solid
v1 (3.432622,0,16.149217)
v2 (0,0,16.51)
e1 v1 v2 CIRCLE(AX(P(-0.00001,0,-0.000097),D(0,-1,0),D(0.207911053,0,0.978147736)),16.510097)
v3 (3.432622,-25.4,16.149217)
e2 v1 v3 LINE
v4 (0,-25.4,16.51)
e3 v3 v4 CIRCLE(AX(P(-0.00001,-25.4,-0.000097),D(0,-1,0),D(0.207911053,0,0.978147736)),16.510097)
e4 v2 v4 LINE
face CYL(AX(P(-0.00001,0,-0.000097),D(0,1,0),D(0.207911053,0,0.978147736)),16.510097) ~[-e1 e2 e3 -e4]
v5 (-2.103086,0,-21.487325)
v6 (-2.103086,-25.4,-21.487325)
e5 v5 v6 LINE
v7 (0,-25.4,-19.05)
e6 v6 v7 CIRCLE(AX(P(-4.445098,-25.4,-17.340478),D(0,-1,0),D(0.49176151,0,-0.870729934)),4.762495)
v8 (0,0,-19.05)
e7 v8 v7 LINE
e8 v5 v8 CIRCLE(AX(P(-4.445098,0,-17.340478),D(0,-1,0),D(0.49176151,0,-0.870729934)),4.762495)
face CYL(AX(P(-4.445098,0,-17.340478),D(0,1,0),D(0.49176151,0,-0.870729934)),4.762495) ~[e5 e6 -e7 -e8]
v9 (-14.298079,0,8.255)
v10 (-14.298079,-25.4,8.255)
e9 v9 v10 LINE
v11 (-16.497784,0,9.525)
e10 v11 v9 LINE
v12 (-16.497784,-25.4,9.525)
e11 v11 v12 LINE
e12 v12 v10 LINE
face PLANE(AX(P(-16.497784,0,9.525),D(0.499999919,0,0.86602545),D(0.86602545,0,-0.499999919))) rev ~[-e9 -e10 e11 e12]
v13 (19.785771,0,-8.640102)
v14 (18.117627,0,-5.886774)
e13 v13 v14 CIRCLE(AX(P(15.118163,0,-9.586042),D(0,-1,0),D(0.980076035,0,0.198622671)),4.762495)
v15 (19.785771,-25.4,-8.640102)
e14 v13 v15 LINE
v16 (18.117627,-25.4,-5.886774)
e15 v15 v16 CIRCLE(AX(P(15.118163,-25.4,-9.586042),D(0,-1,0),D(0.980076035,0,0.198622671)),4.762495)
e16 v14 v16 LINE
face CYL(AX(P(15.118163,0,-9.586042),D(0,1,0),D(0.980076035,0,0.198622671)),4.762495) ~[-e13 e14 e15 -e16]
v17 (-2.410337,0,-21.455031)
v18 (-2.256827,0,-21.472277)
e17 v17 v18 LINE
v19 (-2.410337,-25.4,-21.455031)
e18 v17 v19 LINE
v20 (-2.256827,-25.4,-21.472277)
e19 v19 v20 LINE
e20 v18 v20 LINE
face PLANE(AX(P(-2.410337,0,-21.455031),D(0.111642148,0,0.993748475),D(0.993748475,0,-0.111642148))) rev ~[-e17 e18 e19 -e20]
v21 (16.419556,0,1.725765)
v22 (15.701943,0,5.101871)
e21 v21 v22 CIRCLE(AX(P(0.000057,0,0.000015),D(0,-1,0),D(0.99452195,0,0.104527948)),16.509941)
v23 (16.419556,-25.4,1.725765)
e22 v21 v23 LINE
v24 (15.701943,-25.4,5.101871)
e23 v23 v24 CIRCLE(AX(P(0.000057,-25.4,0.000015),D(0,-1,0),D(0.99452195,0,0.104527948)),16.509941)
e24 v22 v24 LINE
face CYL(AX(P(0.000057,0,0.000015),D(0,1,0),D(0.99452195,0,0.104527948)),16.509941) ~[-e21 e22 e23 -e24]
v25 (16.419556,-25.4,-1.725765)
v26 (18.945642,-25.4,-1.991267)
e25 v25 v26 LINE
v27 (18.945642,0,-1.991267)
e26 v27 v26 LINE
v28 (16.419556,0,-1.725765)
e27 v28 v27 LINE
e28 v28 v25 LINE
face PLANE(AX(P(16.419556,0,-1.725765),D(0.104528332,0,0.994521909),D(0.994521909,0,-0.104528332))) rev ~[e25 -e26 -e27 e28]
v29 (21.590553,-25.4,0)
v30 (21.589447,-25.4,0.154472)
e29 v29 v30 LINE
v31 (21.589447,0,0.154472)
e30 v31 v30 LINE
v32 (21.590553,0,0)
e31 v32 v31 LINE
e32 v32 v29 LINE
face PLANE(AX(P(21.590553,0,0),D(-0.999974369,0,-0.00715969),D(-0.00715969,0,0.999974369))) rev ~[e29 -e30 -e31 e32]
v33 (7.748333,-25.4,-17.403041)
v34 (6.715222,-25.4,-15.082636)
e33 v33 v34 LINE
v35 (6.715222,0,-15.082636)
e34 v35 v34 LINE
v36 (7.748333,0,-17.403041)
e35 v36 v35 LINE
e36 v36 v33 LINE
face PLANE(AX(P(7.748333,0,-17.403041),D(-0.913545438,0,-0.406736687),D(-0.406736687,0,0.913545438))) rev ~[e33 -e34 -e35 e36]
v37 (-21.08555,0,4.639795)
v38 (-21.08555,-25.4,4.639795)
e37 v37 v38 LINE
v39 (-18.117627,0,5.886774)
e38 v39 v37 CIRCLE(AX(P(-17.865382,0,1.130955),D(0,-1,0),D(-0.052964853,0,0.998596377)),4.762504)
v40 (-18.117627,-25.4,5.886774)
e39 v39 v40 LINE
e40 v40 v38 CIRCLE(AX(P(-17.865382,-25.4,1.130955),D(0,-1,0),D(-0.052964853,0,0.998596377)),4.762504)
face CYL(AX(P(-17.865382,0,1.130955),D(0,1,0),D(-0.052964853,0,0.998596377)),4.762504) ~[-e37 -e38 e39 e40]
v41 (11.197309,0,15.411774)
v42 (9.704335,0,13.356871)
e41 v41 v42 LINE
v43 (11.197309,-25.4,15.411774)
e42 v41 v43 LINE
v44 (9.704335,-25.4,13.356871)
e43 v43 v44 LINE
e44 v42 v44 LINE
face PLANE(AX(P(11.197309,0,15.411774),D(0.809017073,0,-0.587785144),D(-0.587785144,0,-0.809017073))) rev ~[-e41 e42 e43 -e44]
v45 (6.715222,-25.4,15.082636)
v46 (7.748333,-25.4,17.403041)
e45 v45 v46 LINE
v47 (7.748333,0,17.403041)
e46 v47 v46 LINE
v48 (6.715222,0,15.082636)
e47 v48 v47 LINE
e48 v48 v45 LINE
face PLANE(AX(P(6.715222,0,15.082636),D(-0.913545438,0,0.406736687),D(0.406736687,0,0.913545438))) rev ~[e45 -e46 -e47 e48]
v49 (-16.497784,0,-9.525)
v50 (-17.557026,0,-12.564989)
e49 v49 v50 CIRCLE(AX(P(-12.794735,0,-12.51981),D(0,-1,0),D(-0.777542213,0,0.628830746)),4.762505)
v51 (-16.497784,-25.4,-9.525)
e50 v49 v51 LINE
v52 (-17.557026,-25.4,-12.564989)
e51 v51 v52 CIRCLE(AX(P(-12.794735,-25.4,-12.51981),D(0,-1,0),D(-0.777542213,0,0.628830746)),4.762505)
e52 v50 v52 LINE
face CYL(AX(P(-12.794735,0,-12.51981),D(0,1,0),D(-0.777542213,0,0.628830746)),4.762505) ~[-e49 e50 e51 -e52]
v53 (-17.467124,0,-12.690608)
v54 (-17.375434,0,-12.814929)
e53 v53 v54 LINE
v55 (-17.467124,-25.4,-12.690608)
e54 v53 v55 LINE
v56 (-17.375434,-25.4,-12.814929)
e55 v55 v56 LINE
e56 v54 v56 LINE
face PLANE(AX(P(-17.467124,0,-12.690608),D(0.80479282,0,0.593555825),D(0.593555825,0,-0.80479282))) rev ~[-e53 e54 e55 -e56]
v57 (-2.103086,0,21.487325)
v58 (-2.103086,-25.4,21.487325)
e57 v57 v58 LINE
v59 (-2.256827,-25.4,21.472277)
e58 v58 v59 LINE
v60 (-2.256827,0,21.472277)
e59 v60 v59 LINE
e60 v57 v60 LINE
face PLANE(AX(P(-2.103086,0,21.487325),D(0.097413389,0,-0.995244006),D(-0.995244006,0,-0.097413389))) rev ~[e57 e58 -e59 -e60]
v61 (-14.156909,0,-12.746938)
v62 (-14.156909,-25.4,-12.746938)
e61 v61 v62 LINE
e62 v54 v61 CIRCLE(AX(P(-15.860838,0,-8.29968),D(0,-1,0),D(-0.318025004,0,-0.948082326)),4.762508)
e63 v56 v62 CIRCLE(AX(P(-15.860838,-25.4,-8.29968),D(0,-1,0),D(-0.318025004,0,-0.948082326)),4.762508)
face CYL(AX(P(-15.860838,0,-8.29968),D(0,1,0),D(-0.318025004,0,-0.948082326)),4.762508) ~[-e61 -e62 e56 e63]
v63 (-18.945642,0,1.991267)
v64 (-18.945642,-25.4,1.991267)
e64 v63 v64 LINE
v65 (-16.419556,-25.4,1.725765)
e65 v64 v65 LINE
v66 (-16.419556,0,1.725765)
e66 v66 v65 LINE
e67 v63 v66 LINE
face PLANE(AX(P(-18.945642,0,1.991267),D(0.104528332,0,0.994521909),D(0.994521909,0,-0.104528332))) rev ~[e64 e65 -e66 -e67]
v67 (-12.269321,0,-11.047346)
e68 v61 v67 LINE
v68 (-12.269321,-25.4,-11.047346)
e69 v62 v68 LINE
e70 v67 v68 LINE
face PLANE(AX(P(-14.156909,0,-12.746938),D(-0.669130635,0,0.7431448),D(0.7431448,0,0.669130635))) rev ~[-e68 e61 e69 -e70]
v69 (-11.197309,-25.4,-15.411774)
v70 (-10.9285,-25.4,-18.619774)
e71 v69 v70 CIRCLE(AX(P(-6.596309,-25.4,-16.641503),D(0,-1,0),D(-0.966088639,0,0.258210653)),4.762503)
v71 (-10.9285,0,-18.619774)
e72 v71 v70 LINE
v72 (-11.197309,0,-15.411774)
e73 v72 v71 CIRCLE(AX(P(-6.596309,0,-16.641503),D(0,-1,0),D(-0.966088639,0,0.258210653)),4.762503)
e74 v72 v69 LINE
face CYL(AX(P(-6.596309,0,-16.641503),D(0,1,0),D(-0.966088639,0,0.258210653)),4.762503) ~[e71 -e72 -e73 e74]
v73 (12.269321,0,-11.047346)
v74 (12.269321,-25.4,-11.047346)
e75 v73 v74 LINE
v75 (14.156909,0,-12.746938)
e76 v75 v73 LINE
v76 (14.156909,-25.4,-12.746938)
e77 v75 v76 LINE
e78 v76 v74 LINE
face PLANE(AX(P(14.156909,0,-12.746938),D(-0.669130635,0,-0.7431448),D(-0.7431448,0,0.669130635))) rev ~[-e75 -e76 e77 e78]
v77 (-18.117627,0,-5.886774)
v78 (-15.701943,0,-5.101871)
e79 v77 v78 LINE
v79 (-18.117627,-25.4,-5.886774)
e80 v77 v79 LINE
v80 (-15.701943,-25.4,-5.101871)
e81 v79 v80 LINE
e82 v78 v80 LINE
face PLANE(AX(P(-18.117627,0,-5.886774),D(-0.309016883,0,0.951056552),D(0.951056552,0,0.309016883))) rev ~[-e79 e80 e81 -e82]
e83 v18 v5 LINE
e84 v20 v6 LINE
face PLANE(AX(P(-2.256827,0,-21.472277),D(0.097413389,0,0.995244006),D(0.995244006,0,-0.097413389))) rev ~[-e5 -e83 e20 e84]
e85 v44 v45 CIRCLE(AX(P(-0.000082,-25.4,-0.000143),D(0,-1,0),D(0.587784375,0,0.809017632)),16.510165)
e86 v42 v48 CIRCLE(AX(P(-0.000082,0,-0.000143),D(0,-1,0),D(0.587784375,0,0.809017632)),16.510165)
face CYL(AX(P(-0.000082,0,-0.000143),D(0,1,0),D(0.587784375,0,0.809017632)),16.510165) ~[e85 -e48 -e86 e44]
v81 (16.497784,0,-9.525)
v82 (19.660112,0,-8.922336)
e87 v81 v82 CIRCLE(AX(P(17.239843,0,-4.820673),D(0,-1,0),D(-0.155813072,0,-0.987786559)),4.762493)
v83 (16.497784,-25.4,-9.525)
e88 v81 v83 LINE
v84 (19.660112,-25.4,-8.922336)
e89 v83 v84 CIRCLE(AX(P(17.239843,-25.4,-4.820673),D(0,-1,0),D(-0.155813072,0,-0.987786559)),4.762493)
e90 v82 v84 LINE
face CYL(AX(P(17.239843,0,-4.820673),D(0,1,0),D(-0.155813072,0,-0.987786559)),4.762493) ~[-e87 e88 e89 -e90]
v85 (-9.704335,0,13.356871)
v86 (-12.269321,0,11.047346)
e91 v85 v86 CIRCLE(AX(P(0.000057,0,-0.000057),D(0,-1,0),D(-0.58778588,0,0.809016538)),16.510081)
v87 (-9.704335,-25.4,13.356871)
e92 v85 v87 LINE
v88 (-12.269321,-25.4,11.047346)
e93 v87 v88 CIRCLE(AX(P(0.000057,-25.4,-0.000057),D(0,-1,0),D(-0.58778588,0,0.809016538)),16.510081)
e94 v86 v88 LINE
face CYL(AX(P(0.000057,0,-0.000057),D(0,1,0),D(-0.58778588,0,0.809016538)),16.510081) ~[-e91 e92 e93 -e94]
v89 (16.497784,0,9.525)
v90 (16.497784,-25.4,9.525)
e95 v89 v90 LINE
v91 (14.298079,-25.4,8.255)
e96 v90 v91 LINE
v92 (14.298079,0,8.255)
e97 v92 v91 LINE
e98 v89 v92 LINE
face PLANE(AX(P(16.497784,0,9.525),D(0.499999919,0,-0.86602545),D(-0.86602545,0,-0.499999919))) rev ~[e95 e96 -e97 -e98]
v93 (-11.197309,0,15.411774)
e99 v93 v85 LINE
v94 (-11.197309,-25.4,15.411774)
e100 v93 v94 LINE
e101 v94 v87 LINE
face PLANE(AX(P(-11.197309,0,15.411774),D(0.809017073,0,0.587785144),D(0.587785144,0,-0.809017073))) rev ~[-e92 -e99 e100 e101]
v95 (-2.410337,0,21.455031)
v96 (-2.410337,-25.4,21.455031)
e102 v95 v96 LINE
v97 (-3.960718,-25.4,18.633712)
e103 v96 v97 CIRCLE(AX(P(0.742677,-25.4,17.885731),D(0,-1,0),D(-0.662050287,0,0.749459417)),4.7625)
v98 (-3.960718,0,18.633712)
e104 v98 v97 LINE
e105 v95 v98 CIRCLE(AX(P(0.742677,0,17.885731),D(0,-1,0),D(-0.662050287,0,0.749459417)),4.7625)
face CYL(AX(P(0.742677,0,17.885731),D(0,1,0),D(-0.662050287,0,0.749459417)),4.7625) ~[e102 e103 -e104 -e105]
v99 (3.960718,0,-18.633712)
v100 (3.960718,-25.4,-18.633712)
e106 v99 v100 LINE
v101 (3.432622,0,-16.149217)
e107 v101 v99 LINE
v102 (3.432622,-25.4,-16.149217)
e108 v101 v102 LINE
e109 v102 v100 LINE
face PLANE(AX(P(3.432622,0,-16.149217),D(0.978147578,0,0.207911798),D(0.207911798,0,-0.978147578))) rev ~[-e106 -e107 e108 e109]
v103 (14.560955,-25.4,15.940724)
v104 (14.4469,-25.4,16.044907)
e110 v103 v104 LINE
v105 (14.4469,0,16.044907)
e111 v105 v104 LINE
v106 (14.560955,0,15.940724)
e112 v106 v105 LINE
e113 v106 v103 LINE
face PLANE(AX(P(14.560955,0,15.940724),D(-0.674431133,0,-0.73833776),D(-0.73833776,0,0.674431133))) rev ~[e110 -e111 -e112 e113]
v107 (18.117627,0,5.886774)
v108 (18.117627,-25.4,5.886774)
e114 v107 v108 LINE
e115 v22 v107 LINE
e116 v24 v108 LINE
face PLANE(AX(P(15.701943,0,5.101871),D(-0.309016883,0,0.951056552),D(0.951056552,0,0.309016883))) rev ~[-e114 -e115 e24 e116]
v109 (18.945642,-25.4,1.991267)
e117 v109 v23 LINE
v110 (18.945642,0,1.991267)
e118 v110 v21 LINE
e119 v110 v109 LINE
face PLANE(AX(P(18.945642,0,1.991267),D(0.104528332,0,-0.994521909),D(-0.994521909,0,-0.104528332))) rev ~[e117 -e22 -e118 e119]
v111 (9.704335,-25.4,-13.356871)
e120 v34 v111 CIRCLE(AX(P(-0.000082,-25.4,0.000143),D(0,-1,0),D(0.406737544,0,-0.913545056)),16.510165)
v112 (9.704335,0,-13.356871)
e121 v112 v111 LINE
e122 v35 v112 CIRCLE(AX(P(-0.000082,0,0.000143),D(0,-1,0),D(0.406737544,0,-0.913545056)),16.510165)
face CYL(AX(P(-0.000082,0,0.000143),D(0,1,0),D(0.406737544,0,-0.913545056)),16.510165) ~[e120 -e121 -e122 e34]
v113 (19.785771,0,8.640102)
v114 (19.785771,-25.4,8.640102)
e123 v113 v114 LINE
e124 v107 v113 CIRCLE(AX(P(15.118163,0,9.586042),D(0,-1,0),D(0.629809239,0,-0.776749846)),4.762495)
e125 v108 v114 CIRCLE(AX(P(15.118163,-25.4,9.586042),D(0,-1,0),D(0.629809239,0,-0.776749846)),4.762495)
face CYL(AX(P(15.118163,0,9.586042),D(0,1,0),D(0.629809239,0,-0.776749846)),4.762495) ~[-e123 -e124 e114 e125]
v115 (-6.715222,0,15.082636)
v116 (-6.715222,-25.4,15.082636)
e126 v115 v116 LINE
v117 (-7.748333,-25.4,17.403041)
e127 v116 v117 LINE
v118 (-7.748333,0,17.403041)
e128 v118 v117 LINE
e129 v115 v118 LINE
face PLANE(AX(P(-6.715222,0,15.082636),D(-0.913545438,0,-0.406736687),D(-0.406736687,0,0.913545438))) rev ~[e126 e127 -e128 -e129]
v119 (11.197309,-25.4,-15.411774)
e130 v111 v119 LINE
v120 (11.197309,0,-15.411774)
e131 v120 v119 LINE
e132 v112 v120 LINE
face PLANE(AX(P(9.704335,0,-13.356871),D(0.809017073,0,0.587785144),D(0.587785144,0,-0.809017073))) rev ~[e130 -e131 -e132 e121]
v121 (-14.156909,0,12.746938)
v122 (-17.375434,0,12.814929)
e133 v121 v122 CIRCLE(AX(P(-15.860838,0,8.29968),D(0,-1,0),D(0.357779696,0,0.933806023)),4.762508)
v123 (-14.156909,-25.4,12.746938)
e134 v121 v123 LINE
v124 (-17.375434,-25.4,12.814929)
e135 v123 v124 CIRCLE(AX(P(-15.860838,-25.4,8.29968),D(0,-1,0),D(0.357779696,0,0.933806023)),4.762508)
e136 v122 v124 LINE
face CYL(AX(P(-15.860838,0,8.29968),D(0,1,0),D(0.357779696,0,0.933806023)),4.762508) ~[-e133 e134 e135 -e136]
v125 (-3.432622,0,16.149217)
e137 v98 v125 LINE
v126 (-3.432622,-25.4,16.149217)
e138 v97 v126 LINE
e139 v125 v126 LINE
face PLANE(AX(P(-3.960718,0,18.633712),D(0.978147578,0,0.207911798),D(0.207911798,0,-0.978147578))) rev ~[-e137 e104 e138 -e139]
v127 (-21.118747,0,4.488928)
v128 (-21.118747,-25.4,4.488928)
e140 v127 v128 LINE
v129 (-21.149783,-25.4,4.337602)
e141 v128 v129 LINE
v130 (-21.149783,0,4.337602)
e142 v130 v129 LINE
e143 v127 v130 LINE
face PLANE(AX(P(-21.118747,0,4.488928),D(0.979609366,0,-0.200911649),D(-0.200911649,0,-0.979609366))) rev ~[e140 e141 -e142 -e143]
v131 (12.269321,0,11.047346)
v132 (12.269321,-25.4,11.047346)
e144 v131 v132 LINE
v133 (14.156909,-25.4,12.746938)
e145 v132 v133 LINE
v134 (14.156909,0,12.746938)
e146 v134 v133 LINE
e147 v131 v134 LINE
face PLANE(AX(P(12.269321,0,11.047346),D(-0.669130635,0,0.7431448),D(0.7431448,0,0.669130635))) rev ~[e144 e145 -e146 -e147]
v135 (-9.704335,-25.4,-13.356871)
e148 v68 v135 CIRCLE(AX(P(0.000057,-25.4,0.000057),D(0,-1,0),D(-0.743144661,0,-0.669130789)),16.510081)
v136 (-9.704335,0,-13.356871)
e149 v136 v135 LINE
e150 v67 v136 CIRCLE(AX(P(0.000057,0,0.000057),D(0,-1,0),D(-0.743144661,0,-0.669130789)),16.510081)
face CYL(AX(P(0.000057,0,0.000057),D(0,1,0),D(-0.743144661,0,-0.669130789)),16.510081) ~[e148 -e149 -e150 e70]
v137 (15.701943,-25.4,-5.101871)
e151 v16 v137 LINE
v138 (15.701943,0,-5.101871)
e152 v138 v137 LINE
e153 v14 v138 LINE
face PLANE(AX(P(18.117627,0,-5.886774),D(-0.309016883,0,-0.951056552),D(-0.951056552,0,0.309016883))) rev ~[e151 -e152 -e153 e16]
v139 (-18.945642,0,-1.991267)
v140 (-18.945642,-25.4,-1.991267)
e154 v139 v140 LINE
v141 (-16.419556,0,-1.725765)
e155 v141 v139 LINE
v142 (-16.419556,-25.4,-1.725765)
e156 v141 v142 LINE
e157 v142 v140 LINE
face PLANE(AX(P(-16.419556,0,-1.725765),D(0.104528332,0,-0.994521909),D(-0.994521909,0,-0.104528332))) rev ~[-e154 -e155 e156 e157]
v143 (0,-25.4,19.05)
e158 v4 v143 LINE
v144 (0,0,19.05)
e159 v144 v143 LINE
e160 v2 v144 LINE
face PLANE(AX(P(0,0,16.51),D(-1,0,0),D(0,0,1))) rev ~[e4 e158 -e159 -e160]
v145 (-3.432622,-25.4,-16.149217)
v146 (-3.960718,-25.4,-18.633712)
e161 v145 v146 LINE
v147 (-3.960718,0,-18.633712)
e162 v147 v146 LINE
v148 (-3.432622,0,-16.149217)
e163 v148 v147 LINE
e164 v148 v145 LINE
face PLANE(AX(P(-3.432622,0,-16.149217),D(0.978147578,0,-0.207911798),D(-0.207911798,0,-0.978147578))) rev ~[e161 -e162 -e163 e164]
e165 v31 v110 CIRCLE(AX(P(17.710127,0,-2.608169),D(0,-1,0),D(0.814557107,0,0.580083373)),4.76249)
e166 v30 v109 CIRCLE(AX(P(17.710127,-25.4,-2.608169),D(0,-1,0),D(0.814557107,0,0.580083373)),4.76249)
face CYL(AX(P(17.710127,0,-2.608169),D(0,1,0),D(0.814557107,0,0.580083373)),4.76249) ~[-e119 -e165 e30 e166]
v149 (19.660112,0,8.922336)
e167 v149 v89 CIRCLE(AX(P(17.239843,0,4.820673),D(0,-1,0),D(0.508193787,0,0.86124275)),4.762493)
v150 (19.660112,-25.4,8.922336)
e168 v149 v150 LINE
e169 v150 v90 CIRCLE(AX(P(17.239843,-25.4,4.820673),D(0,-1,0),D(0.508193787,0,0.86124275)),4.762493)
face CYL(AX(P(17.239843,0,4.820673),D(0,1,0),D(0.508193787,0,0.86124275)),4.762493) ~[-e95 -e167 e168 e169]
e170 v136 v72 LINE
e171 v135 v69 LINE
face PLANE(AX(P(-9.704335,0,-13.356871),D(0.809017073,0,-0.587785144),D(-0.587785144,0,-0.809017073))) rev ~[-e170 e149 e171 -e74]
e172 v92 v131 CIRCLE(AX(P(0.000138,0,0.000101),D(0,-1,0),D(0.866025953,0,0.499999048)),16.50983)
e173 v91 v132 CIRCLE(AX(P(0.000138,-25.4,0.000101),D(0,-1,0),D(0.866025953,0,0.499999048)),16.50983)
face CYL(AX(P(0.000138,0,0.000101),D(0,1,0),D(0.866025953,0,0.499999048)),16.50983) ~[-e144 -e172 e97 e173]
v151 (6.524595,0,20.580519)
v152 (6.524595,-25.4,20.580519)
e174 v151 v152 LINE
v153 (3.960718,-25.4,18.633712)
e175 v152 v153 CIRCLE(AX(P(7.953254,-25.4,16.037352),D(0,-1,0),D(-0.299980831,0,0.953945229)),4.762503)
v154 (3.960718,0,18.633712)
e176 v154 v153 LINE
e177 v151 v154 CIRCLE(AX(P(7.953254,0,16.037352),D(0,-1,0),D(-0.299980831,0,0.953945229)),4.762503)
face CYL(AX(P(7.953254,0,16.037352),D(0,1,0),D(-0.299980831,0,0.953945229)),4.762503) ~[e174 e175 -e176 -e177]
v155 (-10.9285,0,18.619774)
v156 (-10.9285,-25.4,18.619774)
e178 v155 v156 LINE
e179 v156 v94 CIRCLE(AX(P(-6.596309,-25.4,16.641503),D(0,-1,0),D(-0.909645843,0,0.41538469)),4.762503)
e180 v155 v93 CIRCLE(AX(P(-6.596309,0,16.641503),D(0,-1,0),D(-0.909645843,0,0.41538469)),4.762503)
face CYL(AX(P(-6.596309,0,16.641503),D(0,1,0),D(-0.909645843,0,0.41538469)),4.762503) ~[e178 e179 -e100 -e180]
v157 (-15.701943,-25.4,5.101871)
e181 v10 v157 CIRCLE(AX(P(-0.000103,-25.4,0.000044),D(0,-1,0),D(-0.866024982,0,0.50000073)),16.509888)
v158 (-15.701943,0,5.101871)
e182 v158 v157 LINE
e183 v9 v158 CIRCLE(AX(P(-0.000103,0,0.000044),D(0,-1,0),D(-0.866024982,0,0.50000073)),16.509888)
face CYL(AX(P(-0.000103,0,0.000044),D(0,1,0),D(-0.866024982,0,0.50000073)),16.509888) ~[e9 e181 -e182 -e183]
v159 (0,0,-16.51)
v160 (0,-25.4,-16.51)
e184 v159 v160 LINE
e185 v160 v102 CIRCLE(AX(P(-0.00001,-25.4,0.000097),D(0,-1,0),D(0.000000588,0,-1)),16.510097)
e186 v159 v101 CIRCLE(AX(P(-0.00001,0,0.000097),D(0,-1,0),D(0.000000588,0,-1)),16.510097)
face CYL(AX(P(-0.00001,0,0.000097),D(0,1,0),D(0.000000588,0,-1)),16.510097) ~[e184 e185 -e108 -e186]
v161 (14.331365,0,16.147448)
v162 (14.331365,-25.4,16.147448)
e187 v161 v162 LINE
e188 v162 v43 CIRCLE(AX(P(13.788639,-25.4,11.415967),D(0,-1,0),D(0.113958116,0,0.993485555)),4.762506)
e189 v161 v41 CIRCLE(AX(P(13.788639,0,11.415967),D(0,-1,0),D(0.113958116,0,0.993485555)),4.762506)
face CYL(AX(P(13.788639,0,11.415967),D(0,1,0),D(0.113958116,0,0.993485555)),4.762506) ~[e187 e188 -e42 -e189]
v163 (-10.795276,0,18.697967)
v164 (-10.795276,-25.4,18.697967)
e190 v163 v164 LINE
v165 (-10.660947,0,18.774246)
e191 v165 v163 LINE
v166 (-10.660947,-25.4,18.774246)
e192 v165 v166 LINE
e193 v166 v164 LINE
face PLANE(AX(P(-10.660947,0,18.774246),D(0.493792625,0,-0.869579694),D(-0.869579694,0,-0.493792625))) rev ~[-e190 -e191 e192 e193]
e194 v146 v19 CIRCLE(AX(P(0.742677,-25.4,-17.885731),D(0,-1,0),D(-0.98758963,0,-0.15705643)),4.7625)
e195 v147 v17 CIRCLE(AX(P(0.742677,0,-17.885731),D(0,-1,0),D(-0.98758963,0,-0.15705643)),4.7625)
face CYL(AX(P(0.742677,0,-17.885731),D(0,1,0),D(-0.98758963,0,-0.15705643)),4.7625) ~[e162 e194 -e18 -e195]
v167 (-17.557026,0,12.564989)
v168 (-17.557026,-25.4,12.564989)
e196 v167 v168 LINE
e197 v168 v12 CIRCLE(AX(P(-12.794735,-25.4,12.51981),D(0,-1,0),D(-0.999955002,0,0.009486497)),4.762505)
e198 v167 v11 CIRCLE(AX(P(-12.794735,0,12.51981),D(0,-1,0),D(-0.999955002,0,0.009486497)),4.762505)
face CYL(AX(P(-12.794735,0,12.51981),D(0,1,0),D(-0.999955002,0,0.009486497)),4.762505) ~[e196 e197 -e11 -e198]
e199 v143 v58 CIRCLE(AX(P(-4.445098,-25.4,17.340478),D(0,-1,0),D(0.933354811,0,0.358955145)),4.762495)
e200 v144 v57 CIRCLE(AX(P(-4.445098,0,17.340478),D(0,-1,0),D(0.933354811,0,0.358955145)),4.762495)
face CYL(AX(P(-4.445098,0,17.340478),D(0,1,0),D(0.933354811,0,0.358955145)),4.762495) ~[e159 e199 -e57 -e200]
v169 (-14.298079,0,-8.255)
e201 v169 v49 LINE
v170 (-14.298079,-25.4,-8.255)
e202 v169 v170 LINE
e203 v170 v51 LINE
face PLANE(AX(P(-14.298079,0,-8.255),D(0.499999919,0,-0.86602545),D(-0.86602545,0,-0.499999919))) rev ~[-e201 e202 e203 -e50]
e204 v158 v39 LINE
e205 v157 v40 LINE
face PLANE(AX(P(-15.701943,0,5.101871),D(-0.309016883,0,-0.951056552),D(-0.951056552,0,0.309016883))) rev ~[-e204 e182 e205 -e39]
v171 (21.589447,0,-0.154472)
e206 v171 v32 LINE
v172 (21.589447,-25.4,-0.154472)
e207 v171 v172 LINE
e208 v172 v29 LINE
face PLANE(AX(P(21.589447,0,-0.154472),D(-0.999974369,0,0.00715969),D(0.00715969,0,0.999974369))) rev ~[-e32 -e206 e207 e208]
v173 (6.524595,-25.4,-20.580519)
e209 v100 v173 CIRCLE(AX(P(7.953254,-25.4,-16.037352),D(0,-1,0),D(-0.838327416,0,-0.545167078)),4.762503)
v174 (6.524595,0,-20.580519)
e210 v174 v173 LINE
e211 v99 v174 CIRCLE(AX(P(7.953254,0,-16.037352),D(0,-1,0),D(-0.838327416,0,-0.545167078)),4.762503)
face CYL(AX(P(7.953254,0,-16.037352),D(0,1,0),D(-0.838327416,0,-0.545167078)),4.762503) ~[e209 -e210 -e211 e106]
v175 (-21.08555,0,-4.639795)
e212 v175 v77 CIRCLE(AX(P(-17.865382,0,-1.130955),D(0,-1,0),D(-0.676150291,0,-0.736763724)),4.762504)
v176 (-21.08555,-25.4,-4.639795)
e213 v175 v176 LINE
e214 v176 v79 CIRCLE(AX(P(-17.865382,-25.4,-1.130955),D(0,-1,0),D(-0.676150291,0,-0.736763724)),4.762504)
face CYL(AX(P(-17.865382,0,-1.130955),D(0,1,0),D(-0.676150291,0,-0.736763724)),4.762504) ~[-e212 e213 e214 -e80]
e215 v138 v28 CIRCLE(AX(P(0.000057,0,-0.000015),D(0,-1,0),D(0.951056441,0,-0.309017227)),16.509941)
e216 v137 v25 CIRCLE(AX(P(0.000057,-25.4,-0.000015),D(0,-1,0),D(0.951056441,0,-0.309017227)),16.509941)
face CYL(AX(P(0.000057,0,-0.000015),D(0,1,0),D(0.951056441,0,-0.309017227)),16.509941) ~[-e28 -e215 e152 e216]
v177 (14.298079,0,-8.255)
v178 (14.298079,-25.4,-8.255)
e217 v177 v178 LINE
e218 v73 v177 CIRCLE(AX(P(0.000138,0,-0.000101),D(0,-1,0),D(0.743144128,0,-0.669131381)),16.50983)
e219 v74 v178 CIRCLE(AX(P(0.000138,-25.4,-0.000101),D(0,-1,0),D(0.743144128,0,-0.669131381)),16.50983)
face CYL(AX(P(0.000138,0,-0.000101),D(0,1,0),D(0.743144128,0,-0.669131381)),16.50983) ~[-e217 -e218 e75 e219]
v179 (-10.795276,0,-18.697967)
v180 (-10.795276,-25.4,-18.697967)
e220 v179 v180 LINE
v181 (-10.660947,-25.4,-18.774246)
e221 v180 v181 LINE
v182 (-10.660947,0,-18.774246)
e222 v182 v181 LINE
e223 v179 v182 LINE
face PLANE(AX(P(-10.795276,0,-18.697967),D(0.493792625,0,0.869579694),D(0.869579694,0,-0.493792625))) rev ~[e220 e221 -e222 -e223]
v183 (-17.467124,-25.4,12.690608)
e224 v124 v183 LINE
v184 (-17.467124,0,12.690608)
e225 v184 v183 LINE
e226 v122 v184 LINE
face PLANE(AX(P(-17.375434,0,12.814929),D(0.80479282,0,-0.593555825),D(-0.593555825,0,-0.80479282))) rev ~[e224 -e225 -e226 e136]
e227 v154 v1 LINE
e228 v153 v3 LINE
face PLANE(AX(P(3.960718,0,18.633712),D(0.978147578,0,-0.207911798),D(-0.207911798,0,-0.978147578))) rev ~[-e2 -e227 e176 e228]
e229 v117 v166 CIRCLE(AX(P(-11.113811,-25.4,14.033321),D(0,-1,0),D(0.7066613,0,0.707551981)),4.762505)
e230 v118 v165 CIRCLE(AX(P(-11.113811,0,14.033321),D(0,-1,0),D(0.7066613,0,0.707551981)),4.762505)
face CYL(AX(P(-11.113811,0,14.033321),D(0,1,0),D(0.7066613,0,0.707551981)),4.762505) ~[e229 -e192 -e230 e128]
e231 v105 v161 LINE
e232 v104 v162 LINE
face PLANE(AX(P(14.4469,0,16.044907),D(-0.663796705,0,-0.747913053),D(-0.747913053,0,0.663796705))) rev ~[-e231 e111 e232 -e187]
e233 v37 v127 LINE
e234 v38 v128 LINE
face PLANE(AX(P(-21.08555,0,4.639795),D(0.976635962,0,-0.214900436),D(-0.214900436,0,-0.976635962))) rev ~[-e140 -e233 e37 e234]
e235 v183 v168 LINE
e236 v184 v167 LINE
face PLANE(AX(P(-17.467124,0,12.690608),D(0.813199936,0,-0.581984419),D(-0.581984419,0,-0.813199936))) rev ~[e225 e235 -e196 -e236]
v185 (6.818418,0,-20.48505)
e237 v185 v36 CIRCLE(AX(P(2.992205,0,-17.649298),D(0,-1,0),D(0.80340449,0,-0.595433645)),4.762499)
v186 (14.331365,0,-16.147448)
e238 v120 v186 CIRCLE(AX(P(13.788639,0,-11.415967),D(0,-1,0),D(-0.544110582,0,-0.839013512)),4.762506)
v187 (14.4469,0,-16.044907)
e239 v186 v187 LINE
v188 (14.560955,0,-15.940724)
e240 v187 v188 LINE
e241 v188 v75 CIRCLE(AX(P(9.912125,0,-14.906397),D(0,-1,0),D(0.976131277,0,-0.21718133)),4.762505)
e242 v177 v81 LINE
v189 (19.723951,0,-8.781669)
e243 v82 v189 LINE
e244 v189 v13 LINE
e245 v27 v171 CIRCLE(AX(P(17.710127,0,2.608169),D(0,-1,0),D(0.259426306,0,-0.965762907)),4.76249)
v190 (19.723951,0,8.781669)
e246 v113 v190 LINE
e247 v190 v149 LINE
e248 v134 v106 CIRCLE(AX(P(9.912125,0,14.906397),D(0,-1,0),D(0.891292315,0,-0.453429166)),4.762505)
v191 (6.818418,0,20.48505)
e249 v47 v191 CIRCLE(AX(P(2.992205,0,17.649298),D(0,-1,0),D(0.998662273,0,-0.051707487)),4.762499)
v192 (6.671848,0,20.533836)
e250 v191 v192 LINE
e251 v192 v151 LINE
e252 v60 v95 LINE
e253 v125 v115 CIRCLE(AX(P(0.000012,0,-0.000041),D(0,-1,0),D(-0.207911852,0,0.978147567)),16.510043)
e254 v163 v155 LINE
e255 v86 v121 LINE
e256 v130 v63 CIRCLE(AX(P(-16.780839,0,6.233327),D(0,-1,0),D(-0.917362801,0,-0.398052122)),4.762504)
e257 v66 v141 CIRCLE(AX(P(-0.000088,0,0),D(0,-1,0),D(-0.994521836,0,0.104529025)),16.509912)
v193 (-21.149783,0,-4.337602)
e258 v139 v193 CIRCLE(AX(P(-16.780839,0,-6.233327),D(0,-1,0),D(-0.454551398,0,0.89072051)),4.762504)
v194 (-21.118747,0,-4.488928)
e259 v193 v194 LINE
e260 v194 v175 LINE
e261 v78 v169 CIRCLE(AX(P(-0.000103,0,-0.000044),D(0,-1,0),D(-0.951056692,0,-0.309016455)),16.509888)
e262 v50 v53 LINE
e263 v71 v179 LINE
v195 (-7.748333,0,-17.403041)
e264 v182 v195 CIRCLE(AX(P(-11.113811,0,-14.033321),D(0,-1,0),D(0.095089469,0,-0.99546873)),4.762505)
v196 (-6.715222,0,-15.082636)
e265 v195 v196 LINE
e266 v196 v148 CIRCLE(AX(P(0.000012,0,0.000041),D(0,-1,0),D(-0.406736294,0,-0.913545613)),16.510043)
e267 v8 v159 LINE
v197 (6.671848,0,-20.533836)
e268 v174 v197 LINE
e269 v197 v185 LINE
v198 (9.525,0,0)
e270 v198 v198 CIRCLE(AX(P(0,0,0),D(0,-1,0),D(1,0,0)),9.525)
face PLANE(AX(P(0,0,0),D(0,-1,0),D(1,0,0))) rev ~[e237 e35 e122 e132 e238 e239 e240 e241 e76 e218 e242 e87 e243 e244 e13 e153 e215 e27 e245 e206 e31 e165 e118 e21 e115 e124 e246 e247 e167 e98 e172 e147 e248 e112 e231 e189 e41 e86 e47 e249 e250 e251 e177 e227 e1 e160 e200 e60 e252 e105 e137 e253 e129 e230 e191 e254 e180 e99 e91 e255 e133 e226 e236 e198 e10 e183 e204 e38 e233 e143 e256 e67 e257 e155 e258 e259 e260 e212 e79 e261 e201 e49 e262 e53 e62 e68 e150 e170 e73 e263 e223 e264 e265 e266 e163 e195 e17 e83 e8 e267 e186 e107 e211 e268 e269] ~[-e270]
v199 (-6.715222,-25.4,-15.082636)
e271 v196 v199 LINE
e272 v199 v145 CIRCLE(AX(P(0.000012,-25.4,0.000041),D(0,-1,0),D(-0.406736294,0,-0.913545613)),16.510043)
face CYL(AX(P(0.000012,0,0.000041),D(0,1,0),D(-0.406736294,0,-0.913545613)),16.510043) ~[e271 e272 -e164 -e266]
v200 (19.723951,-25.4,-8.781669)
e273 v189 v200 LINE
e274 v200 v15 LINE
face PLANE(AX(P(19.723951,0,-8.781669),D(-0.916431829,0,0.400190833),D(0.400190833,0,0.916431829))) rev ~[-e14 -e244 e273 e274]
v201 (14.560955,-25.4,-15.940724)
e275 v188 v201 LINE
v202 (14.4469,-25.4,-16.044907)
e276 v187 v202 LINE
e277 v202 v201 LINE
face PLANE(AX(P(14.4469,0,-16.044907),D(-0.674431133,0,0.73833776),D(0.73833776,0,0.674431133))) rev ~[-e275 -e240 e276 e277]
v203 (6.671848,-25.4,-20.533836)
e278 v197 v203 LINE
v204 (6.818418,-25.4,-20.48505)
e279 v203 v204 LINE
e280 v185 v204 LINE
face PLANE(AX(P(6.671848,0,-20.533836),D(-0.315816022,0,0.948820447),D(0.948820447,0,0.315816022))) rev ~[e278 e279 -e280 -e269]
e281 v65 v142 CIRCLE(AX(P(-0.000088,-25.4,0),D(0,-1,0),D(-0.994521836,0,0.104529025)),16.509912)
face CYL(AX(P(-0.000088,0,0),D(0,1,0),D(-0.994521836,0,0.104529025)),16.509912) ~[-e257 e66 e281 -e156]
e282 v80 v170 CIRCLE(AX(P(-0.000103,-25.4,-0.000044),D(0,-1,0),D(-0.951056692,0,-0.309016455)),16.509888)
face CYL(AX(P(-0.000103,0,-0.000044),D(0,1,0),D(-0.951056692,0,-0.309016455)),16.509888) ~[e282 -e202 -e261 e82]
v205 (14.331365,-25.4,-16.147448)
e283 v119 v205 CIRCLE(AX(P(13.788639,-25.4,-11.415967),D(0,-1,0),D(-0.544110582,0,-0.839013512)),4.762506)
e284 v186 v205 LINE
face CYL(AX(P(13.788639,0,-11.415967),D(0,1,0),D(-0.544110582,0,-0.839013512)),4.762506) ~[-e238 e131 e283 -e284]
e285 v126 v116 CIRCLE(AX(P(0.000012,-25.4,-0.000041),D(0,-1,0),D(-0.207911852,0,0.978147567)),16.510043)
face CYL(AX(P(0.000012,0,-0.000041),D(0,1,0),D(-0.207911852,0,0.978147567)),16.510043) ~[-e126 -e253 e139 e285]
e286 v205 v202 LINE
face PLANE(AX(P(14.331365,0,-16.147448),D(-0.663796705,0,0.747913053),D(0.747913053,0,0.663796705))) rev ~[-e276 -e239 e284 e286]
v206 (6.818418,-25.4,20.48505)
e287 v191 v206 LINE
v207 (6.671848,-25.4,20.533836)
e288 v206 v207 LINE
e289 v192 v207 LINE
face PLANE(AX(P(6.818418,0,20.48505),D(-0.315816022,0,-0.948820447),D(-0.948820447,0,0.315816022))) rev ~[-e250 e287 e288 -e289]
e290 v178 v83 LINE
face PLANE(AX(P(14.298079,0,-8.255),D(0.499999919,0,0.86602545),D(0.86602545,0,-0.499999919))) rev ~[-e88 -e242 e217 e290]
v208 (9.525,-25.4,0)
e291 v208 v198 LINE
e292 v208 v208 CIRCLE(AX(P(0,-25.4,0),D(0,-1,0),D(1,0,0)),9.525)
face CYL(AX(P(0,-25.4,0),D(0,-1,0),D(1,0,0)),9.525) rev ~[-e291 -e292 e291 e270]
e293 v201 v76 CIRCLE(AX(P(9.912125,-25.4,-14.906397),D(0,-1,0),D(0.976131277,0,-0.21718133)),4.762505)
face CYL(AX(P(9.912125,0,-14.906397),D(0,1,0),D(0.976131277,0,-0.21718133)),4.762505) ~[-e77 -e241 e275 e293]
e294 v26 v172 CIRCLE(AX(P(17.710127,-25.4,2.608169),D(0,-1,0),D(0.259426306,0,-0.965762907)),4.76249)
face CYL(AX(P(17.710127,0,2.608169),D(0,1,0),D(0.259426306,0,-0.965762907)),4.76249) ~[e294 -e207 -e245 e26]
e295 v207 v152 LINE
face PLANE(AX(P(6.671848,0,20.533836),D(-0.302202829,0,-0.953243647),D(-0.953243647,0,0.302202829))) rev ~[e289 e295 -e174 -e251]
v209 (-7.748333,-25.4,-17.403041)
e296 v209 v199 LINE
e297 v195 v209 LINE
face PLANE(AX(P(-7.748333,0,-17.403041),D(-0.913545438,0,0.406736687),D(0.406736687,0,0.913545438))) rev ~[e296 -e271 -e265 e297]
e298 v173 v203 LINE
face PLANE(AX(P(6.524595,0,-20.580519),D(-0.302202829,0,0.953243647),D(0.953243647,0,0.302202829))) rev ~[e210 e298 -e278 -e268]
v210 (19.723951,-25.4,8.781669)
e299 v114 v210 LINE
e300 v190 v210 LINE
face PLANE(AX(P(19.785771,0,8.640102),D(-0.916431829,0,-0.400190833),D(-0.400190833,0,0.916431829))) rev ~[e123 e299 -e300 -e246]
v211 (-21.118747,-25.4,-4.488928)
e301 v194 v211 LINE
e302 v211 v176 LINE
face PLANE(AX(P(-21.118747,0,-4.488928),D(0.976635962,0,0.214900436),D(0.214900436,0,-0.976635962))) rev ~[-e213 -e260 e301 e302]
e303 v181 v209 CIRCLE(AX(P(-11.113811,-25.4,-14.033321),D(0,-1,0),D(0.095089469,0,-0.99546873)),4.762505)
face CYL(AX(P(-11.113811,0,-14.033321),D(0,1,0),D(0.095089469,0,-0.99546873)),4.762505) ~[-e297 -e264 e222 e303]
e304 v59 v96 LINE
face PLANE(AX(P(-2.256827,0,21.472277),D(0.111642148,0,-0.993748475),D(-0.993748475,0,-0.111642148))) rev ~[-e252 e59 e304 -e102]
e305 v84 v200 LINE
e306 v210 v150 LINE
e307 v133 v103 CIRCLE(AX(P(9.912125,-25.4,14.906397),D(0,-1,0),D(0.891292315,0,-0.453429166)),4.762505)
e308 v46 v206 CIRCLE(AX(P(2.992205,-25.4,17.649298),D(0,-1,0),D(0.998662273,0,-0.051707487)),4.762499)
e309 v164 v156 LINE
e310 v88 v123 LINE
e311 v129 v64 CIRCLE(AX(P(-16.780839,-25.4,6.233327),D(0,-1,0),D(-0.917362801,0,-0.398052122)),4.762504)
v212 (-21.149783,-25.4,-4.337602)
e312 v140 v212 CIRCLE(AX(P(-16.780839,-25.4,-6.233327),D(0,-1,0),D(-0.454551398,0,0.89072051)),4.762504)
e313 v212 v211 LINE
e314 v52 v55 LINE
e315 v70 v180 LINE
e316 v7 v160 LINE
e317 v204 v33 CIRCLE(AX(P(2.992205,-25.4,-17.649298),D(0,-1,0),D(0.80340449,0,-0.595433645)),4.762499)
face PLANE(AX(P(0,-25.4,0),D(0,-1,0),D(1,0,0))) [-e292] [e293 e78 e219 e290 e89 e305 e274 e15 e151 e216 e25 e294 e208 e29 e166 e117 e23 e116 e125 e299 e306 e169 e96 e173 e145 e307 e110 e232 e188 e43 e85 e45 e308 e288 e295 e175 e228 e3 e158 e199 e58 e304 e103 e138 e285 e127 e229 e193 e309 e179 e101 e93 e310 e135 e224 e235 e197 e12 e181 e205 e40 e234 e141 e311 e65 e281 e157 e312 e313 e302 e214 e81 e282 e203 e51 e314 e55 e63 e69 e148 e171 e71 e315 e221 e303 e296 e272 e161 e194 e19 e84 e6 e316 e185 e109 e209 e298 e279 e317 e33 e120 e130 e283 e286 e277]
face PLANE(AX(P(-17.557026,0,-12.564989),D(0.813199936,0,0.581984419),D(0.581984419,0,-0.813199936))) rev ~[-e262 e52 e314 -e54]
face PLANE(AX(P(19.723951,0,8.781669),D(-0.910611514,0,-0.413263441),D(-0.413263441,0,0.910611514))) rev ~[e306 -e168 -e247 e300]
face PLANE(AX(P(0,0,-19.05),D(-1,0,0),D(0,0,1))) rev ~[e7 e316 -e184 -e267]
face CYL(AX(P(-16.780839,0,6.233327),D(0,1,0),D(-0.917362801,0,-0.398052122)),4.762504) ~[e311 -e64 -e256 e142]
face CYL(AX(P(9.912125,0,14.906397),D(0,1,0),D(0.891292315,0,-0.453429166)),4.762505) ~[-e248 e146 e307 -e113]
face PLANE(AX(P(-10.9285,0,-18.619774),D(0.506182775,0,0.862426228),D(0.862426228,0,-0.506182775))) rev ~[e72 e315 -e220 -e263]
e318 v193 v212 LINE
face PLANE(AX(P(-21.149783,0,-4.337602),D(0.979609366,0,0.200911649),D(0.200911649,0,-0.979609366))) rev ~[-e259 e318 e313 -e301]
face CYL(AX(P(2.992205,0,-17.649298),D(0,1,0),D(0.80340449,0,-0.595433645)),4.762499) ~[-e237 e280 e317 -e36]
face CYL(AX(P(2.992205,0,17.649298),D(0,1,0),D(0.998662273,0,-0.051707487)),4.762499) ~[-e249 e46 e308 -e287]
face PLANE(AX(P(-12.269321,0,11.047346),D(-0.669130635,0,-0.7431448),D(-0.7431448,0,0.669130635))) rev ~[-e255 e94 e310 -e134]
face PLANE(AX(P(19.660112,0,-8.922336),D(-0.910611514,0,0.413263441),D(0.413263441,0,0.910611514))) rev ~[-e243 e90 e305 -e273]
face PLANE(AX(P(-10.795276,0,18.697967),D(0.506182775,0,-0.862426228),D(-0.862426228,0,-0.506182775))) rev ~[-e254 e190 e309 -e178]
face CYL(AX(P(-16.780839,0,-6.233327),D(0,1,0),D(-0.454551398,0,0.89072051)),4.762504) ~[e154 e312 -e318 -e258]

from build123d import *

# Parameters (mm, degrees)
F1_DEPTH = 25.4
F2_R     = 9.525
F3_DEPTH = 25.4


with BuildPart() as f1:
    # F0 (on Front) → F1 (new body)
    with BuildSketch(Plane.XZ):
        with BuildLine():
            Line((-3.960718, 18.633712), (-3.432622, 16.149217))
            ThreePointArc((-3.432622, 16.149217), (-5.101871, 15.701943), (-6.715222, 15.082636))
            Line((-6.715222, 15.082636), (-7.748333, 17.403041))
            ThreePointArc((-7.748333, 17.403041), (-9.085269, 18.342204), (-10.660947, 18.774246))
            Line((-10.660947, 18.774246), (-10.795276, 18.697967))
            Line((-10.795276, 18.697967), (-10.9285, 18.619774))
            ThreePointArc((-10.9285, 18.619774), (-11.34218, 17.039175), (-11.197309, 15.411774))
            Line((-11.197309, 15.411774), (-9.704335, 13.356871))
            ThreePointArc((-9.704335, 13.356871), (-11.047346, 12.269321), (-12.269321, 11.047346))
            Line((-12.269321, 11.047346), (-14.156909, 12.746938))
            ThreePointArc((-14.156909, 12.746938), (-15.760252, 13.061125), (-17.375434, 12.814929))
            Line((-17.375434, 12.814929), (-17.467124, 12.690608))
            Line((-17.467124, 12.690608), (-17.557026, 12.564989))
            ThreePointArc((-17.557026, 12.564989), (-17.292054, 10.952781), (-16.497784, 9.525))
            Line((-16.497784, 9.525), (-14.298079, 8.255))
            ThreePointArc((-14.298079, 8.255), (-15.082636, 6.715222), (-15.701943, 5.101871))
            Line((-15.701943, 5.101871), (-18.117627, 5.886774))
            ThreePointArc((-18.117627, 5.886774), (-19.710145, 5.52166), (-21.08555, 4.639795))
            Line((-21.08555, 4.639795), (-21.118747, 4.488928))
            Line((-21.118747, 4.488928), (-21.149783, 4.337602))
            ThreePointArc((-21.149783, 4.337602), (-20.251975, 2.972551), (-18.945642, 1.991267))
            Line((-18.945642, 1.991267), (-16.419556, 1.725765))
            ThreePointArc((-16.419556, 1.725765), (-16.51, 0), (-16.419556, -1.725765))
            Line((-16.419556, -1.725765), (-18.945642, -1.991267))
            ThreePointArc((-18.945642, -1.991267), (-20.251975, -2.972551), (-21.149783, -4.337602))
            Line((-21.149783, -4.337602), (-21.118747, -4.488928))
            Line((-21.118747, -4.488928), (-21.08555, -4.639795))
            ThreePointArc((-21.08555, -4.639795), (-19.710145, -5.52166), (-18.117627, -5.886774))
            Line((-18.117627, -5.886774), (-15.701943, -5.101871))
            ThreePointArc((-15.701943, -5.101871), (-15.082636, -6.715222), (-14.298079, -8.255))
            Line((-14.298079, -8.255), (-16.497784, -9.525))
            ThreePointArc((-16.497784, -9.525), (-17.292054, -10.952781), (-17.557026, -12.564989))
            Line((-17.557026, -12.564989), (-17.467124, -12.690608))
            Line((-17.467124, -12.690608), (-17.375434, -12.814929))
            ThreePointArc((-17.375434, -12.814929), (-15.760252, -13.061125), (-14.156909, -12.746938))
            Line((-14.156909, -12.746938), (-12.269321, -11.047346))
            ThreePointArc((-12.269321, -11.047346), (-11.047346, -12.269321), (-9.704335, -13.356871))
            Line((-9.704335, -13.356871), (-11.197309, -15.411774))
            ThreePointArc((-11.197309, -15.411774), (-11.34218, -17.039175), (-10.9285, -18.619774))
            Line((-10.9285, -18.619774), (-10.795276, -18.697967))
            Line((-10.795276, -18.697967), (-10.660947, -18.774246))
            ThreePointArc((-10.660947, -18.774246), (-9.085269, -18.342204), (-7.748333, -17.403041))
            Line((-7.748333, -17.403041), (-6.715222, -15.082636))
            ThreePointArc((-6.715222, -15.082636), (-5.101871, -15.701943), (-3.432622, -16.149217))
            Line((-3.432622, -16.149217), (-3.960718, -18.633712))
            ThreePointArc((-3.960718, -18.633712), (-3.43114, -20.179342), (-2.410337, -21.455031))
            Line((-2.410337, -21.455031), (-2.256827, -21.472277))
            Line((-2.256827, -21.472277), (-2.103086, -21.487325))
            ThreePointArc((-2.103086, -21.487325), (-0.839359, -20.451749), (0, -19.05))
            Line((0, -19.05), (0, -16.51))
            ThreePointArc((0, -16.51), (1.725765, -16.419556), (3.432622, -16.149217))
            Line((3.432622, -16.149217), (3.960718, -18.633712))
            ThreePointArc((3.960718, -18.633712), (5.073175, -19.830316), (6.524595, -20.580519))
            Line((6.524595, -20.580519), (6.671848, -20.533836))
            Line((6.671848, -20.533836), (6.818418, -20.48505))
            ThreePointArc((6.818418, -20.48505), (7.551683, -19.025), (7.748333, -17.403041))
            Line((7.748333, -17.403041), (6.715222, -15.082636))
            ThreePointArc((6.715222, -15.082636), (8.255, -14.298079), (9.704335, -13.356871))
            Line((9.704335, -13.356871), (11.197309, -15.411774))
            ThreePointArc((11.197309, -15.411774), (12.700292, -16.052449), (14.331365, -16.147448))
            Line((14.331365, -16.147448), (14.4469, -16.044907))
            Line((14.4469, -16.044907), (14.560955, -15.940724))
            ThreePointArc((14.560955, -15.940724), (14.63697, -14.308657), (14.156909, -12.746938))
            Line((14.156909, -12.746938), (12.269321, -11.047346))
            ThreePointArc((12.269321, -11.047346), (13.356871, -9.704335), (14.298079, -8.255))
            Line((14.298079, -8.255), (16.497784, -9.525))
            ThreePointArc((16.497784, -9.525), (18.131414, -9.498968), (19.660112, -8.922336))
            Line((19.660112, -8.922336), (19.723951, -8.781669))
            Line((19.723951, -8.781669), (19.785771, -8.640102))
            ThreePointArc((19.785771, -8.640102), (19.191393, -7.118216), (18.117627, -5.886774))
            Line((18.117627, -5.886774), (15.701943, -5.101871))
            ThreePointArc((15.701943, -5.101871), (16.149217, -3.432622), (16.419556, -1.725765))
            Line((16.419556, -1.725765), (18.945642, -1.991267))
            ThreePointArc((18.945642, -1.991267), (20.427449, -1.303029), (21.589447, -0.154472))
            Line((21.589447, -0.154472), (21.590553, 0))
            Line((21.590553, 0), (21.589447, 0.154472))
            ThreePointArc((21.589447, 0.154472), (20.427449, 1.303029), (18.945642, 1.991267))
            Line((18.945642, 1.991267), (16.419556, 1.725765))
            ThreePointArc((16.419556, 1.725765), (16.149217, 3.432622), (15.701943, 5.101871))
            Line((15.701943, 5.101871), (18.117627, 5.886774))
            ThreePointArc((18.117627, 5.886774), (19.191393, 7.118216), (19.785771, 8.640102))
            Line((19.785771, 8.640102), (19.723951, 8.781669))
            Line((19.723951, 8.781669), (19.660112, 8.922336))
            ThreePointArc((19.660112, 8.922336), (18.131414, 9.498968), (16.497784, 9.525))
            Line((16.497784, 9.525), (14.298079, 8.255))
            ThreePointArc((14.298079, 8.255), (13.356871, 9.704335), (12.269321, 11.047346))
            Line((12.269321, 11.047346), (14.156909, 12.746938))
            ThreePointArc((14.156909, 12.746938), (14.63697, 14.308657), (14.560955, 15.940724))
            Line((14.560955, 15.940724), (14.4469, 16.044907))
            Line((14.4469, 16.044907), (14.331365, 16.147448))
            ThreePointArc((14.331365, 16.147448), (12.700292, 16.052449), (11.197309, 15.411774))
            Line((11.197309, 15.411774), (9.704335, 13.356871))
            ThreePointArc((9.704335, 13.356871), (8.255, 14.298079), (6.715222, 15.082636))
            Line((6.715222, 15.082636), (7.748333, 17.403041))
            ThreePointArc((7.748333, 17.403041), (7.551683, 19.025), (6.818418, 20.48505))
            Line((6.818418, 20.48505), (6.671848, 20.533836))
            Line((6.671848, 20.533836), (6.524595, 20.580519))
            ThreePointArc((6.524595, 20.580519), (5.073175, 19.830316), (3.960718, 18.633712))
            Line((3.960718, 18.633712), (3.432622, 16.149217))
            ThreePointArc((3.432622, 16.149217), (1.725765, 16.419556), (0, 16.51))
            Line((0, 16.51), (0, 19.05))
            ThreePointArc((0, 19.05), (-0.839359, 20.451749), (-2.103086, 21.487325))
            Line((-2.103086, 21.487325), (-2.256827, 21.472277))
            Line((-2.256827, 21.472277), (-2.410337, 21.455031))
            ThreePointArc((-2.410337, 21.455031), (-3.43114, 20.179342), (-3.960718, 18.633712))
        make_face()
    extrude(amount=F1_DEPTH)

    # F2 (on face) → F3 (cut)
    with BuildSketch(Plane.XZ.offset(25.4)):
        Circle(F2_R)
    extrude(amount=-F3_DEPTH, mode=Mode.SUBTRACT)


solid = f1.part
